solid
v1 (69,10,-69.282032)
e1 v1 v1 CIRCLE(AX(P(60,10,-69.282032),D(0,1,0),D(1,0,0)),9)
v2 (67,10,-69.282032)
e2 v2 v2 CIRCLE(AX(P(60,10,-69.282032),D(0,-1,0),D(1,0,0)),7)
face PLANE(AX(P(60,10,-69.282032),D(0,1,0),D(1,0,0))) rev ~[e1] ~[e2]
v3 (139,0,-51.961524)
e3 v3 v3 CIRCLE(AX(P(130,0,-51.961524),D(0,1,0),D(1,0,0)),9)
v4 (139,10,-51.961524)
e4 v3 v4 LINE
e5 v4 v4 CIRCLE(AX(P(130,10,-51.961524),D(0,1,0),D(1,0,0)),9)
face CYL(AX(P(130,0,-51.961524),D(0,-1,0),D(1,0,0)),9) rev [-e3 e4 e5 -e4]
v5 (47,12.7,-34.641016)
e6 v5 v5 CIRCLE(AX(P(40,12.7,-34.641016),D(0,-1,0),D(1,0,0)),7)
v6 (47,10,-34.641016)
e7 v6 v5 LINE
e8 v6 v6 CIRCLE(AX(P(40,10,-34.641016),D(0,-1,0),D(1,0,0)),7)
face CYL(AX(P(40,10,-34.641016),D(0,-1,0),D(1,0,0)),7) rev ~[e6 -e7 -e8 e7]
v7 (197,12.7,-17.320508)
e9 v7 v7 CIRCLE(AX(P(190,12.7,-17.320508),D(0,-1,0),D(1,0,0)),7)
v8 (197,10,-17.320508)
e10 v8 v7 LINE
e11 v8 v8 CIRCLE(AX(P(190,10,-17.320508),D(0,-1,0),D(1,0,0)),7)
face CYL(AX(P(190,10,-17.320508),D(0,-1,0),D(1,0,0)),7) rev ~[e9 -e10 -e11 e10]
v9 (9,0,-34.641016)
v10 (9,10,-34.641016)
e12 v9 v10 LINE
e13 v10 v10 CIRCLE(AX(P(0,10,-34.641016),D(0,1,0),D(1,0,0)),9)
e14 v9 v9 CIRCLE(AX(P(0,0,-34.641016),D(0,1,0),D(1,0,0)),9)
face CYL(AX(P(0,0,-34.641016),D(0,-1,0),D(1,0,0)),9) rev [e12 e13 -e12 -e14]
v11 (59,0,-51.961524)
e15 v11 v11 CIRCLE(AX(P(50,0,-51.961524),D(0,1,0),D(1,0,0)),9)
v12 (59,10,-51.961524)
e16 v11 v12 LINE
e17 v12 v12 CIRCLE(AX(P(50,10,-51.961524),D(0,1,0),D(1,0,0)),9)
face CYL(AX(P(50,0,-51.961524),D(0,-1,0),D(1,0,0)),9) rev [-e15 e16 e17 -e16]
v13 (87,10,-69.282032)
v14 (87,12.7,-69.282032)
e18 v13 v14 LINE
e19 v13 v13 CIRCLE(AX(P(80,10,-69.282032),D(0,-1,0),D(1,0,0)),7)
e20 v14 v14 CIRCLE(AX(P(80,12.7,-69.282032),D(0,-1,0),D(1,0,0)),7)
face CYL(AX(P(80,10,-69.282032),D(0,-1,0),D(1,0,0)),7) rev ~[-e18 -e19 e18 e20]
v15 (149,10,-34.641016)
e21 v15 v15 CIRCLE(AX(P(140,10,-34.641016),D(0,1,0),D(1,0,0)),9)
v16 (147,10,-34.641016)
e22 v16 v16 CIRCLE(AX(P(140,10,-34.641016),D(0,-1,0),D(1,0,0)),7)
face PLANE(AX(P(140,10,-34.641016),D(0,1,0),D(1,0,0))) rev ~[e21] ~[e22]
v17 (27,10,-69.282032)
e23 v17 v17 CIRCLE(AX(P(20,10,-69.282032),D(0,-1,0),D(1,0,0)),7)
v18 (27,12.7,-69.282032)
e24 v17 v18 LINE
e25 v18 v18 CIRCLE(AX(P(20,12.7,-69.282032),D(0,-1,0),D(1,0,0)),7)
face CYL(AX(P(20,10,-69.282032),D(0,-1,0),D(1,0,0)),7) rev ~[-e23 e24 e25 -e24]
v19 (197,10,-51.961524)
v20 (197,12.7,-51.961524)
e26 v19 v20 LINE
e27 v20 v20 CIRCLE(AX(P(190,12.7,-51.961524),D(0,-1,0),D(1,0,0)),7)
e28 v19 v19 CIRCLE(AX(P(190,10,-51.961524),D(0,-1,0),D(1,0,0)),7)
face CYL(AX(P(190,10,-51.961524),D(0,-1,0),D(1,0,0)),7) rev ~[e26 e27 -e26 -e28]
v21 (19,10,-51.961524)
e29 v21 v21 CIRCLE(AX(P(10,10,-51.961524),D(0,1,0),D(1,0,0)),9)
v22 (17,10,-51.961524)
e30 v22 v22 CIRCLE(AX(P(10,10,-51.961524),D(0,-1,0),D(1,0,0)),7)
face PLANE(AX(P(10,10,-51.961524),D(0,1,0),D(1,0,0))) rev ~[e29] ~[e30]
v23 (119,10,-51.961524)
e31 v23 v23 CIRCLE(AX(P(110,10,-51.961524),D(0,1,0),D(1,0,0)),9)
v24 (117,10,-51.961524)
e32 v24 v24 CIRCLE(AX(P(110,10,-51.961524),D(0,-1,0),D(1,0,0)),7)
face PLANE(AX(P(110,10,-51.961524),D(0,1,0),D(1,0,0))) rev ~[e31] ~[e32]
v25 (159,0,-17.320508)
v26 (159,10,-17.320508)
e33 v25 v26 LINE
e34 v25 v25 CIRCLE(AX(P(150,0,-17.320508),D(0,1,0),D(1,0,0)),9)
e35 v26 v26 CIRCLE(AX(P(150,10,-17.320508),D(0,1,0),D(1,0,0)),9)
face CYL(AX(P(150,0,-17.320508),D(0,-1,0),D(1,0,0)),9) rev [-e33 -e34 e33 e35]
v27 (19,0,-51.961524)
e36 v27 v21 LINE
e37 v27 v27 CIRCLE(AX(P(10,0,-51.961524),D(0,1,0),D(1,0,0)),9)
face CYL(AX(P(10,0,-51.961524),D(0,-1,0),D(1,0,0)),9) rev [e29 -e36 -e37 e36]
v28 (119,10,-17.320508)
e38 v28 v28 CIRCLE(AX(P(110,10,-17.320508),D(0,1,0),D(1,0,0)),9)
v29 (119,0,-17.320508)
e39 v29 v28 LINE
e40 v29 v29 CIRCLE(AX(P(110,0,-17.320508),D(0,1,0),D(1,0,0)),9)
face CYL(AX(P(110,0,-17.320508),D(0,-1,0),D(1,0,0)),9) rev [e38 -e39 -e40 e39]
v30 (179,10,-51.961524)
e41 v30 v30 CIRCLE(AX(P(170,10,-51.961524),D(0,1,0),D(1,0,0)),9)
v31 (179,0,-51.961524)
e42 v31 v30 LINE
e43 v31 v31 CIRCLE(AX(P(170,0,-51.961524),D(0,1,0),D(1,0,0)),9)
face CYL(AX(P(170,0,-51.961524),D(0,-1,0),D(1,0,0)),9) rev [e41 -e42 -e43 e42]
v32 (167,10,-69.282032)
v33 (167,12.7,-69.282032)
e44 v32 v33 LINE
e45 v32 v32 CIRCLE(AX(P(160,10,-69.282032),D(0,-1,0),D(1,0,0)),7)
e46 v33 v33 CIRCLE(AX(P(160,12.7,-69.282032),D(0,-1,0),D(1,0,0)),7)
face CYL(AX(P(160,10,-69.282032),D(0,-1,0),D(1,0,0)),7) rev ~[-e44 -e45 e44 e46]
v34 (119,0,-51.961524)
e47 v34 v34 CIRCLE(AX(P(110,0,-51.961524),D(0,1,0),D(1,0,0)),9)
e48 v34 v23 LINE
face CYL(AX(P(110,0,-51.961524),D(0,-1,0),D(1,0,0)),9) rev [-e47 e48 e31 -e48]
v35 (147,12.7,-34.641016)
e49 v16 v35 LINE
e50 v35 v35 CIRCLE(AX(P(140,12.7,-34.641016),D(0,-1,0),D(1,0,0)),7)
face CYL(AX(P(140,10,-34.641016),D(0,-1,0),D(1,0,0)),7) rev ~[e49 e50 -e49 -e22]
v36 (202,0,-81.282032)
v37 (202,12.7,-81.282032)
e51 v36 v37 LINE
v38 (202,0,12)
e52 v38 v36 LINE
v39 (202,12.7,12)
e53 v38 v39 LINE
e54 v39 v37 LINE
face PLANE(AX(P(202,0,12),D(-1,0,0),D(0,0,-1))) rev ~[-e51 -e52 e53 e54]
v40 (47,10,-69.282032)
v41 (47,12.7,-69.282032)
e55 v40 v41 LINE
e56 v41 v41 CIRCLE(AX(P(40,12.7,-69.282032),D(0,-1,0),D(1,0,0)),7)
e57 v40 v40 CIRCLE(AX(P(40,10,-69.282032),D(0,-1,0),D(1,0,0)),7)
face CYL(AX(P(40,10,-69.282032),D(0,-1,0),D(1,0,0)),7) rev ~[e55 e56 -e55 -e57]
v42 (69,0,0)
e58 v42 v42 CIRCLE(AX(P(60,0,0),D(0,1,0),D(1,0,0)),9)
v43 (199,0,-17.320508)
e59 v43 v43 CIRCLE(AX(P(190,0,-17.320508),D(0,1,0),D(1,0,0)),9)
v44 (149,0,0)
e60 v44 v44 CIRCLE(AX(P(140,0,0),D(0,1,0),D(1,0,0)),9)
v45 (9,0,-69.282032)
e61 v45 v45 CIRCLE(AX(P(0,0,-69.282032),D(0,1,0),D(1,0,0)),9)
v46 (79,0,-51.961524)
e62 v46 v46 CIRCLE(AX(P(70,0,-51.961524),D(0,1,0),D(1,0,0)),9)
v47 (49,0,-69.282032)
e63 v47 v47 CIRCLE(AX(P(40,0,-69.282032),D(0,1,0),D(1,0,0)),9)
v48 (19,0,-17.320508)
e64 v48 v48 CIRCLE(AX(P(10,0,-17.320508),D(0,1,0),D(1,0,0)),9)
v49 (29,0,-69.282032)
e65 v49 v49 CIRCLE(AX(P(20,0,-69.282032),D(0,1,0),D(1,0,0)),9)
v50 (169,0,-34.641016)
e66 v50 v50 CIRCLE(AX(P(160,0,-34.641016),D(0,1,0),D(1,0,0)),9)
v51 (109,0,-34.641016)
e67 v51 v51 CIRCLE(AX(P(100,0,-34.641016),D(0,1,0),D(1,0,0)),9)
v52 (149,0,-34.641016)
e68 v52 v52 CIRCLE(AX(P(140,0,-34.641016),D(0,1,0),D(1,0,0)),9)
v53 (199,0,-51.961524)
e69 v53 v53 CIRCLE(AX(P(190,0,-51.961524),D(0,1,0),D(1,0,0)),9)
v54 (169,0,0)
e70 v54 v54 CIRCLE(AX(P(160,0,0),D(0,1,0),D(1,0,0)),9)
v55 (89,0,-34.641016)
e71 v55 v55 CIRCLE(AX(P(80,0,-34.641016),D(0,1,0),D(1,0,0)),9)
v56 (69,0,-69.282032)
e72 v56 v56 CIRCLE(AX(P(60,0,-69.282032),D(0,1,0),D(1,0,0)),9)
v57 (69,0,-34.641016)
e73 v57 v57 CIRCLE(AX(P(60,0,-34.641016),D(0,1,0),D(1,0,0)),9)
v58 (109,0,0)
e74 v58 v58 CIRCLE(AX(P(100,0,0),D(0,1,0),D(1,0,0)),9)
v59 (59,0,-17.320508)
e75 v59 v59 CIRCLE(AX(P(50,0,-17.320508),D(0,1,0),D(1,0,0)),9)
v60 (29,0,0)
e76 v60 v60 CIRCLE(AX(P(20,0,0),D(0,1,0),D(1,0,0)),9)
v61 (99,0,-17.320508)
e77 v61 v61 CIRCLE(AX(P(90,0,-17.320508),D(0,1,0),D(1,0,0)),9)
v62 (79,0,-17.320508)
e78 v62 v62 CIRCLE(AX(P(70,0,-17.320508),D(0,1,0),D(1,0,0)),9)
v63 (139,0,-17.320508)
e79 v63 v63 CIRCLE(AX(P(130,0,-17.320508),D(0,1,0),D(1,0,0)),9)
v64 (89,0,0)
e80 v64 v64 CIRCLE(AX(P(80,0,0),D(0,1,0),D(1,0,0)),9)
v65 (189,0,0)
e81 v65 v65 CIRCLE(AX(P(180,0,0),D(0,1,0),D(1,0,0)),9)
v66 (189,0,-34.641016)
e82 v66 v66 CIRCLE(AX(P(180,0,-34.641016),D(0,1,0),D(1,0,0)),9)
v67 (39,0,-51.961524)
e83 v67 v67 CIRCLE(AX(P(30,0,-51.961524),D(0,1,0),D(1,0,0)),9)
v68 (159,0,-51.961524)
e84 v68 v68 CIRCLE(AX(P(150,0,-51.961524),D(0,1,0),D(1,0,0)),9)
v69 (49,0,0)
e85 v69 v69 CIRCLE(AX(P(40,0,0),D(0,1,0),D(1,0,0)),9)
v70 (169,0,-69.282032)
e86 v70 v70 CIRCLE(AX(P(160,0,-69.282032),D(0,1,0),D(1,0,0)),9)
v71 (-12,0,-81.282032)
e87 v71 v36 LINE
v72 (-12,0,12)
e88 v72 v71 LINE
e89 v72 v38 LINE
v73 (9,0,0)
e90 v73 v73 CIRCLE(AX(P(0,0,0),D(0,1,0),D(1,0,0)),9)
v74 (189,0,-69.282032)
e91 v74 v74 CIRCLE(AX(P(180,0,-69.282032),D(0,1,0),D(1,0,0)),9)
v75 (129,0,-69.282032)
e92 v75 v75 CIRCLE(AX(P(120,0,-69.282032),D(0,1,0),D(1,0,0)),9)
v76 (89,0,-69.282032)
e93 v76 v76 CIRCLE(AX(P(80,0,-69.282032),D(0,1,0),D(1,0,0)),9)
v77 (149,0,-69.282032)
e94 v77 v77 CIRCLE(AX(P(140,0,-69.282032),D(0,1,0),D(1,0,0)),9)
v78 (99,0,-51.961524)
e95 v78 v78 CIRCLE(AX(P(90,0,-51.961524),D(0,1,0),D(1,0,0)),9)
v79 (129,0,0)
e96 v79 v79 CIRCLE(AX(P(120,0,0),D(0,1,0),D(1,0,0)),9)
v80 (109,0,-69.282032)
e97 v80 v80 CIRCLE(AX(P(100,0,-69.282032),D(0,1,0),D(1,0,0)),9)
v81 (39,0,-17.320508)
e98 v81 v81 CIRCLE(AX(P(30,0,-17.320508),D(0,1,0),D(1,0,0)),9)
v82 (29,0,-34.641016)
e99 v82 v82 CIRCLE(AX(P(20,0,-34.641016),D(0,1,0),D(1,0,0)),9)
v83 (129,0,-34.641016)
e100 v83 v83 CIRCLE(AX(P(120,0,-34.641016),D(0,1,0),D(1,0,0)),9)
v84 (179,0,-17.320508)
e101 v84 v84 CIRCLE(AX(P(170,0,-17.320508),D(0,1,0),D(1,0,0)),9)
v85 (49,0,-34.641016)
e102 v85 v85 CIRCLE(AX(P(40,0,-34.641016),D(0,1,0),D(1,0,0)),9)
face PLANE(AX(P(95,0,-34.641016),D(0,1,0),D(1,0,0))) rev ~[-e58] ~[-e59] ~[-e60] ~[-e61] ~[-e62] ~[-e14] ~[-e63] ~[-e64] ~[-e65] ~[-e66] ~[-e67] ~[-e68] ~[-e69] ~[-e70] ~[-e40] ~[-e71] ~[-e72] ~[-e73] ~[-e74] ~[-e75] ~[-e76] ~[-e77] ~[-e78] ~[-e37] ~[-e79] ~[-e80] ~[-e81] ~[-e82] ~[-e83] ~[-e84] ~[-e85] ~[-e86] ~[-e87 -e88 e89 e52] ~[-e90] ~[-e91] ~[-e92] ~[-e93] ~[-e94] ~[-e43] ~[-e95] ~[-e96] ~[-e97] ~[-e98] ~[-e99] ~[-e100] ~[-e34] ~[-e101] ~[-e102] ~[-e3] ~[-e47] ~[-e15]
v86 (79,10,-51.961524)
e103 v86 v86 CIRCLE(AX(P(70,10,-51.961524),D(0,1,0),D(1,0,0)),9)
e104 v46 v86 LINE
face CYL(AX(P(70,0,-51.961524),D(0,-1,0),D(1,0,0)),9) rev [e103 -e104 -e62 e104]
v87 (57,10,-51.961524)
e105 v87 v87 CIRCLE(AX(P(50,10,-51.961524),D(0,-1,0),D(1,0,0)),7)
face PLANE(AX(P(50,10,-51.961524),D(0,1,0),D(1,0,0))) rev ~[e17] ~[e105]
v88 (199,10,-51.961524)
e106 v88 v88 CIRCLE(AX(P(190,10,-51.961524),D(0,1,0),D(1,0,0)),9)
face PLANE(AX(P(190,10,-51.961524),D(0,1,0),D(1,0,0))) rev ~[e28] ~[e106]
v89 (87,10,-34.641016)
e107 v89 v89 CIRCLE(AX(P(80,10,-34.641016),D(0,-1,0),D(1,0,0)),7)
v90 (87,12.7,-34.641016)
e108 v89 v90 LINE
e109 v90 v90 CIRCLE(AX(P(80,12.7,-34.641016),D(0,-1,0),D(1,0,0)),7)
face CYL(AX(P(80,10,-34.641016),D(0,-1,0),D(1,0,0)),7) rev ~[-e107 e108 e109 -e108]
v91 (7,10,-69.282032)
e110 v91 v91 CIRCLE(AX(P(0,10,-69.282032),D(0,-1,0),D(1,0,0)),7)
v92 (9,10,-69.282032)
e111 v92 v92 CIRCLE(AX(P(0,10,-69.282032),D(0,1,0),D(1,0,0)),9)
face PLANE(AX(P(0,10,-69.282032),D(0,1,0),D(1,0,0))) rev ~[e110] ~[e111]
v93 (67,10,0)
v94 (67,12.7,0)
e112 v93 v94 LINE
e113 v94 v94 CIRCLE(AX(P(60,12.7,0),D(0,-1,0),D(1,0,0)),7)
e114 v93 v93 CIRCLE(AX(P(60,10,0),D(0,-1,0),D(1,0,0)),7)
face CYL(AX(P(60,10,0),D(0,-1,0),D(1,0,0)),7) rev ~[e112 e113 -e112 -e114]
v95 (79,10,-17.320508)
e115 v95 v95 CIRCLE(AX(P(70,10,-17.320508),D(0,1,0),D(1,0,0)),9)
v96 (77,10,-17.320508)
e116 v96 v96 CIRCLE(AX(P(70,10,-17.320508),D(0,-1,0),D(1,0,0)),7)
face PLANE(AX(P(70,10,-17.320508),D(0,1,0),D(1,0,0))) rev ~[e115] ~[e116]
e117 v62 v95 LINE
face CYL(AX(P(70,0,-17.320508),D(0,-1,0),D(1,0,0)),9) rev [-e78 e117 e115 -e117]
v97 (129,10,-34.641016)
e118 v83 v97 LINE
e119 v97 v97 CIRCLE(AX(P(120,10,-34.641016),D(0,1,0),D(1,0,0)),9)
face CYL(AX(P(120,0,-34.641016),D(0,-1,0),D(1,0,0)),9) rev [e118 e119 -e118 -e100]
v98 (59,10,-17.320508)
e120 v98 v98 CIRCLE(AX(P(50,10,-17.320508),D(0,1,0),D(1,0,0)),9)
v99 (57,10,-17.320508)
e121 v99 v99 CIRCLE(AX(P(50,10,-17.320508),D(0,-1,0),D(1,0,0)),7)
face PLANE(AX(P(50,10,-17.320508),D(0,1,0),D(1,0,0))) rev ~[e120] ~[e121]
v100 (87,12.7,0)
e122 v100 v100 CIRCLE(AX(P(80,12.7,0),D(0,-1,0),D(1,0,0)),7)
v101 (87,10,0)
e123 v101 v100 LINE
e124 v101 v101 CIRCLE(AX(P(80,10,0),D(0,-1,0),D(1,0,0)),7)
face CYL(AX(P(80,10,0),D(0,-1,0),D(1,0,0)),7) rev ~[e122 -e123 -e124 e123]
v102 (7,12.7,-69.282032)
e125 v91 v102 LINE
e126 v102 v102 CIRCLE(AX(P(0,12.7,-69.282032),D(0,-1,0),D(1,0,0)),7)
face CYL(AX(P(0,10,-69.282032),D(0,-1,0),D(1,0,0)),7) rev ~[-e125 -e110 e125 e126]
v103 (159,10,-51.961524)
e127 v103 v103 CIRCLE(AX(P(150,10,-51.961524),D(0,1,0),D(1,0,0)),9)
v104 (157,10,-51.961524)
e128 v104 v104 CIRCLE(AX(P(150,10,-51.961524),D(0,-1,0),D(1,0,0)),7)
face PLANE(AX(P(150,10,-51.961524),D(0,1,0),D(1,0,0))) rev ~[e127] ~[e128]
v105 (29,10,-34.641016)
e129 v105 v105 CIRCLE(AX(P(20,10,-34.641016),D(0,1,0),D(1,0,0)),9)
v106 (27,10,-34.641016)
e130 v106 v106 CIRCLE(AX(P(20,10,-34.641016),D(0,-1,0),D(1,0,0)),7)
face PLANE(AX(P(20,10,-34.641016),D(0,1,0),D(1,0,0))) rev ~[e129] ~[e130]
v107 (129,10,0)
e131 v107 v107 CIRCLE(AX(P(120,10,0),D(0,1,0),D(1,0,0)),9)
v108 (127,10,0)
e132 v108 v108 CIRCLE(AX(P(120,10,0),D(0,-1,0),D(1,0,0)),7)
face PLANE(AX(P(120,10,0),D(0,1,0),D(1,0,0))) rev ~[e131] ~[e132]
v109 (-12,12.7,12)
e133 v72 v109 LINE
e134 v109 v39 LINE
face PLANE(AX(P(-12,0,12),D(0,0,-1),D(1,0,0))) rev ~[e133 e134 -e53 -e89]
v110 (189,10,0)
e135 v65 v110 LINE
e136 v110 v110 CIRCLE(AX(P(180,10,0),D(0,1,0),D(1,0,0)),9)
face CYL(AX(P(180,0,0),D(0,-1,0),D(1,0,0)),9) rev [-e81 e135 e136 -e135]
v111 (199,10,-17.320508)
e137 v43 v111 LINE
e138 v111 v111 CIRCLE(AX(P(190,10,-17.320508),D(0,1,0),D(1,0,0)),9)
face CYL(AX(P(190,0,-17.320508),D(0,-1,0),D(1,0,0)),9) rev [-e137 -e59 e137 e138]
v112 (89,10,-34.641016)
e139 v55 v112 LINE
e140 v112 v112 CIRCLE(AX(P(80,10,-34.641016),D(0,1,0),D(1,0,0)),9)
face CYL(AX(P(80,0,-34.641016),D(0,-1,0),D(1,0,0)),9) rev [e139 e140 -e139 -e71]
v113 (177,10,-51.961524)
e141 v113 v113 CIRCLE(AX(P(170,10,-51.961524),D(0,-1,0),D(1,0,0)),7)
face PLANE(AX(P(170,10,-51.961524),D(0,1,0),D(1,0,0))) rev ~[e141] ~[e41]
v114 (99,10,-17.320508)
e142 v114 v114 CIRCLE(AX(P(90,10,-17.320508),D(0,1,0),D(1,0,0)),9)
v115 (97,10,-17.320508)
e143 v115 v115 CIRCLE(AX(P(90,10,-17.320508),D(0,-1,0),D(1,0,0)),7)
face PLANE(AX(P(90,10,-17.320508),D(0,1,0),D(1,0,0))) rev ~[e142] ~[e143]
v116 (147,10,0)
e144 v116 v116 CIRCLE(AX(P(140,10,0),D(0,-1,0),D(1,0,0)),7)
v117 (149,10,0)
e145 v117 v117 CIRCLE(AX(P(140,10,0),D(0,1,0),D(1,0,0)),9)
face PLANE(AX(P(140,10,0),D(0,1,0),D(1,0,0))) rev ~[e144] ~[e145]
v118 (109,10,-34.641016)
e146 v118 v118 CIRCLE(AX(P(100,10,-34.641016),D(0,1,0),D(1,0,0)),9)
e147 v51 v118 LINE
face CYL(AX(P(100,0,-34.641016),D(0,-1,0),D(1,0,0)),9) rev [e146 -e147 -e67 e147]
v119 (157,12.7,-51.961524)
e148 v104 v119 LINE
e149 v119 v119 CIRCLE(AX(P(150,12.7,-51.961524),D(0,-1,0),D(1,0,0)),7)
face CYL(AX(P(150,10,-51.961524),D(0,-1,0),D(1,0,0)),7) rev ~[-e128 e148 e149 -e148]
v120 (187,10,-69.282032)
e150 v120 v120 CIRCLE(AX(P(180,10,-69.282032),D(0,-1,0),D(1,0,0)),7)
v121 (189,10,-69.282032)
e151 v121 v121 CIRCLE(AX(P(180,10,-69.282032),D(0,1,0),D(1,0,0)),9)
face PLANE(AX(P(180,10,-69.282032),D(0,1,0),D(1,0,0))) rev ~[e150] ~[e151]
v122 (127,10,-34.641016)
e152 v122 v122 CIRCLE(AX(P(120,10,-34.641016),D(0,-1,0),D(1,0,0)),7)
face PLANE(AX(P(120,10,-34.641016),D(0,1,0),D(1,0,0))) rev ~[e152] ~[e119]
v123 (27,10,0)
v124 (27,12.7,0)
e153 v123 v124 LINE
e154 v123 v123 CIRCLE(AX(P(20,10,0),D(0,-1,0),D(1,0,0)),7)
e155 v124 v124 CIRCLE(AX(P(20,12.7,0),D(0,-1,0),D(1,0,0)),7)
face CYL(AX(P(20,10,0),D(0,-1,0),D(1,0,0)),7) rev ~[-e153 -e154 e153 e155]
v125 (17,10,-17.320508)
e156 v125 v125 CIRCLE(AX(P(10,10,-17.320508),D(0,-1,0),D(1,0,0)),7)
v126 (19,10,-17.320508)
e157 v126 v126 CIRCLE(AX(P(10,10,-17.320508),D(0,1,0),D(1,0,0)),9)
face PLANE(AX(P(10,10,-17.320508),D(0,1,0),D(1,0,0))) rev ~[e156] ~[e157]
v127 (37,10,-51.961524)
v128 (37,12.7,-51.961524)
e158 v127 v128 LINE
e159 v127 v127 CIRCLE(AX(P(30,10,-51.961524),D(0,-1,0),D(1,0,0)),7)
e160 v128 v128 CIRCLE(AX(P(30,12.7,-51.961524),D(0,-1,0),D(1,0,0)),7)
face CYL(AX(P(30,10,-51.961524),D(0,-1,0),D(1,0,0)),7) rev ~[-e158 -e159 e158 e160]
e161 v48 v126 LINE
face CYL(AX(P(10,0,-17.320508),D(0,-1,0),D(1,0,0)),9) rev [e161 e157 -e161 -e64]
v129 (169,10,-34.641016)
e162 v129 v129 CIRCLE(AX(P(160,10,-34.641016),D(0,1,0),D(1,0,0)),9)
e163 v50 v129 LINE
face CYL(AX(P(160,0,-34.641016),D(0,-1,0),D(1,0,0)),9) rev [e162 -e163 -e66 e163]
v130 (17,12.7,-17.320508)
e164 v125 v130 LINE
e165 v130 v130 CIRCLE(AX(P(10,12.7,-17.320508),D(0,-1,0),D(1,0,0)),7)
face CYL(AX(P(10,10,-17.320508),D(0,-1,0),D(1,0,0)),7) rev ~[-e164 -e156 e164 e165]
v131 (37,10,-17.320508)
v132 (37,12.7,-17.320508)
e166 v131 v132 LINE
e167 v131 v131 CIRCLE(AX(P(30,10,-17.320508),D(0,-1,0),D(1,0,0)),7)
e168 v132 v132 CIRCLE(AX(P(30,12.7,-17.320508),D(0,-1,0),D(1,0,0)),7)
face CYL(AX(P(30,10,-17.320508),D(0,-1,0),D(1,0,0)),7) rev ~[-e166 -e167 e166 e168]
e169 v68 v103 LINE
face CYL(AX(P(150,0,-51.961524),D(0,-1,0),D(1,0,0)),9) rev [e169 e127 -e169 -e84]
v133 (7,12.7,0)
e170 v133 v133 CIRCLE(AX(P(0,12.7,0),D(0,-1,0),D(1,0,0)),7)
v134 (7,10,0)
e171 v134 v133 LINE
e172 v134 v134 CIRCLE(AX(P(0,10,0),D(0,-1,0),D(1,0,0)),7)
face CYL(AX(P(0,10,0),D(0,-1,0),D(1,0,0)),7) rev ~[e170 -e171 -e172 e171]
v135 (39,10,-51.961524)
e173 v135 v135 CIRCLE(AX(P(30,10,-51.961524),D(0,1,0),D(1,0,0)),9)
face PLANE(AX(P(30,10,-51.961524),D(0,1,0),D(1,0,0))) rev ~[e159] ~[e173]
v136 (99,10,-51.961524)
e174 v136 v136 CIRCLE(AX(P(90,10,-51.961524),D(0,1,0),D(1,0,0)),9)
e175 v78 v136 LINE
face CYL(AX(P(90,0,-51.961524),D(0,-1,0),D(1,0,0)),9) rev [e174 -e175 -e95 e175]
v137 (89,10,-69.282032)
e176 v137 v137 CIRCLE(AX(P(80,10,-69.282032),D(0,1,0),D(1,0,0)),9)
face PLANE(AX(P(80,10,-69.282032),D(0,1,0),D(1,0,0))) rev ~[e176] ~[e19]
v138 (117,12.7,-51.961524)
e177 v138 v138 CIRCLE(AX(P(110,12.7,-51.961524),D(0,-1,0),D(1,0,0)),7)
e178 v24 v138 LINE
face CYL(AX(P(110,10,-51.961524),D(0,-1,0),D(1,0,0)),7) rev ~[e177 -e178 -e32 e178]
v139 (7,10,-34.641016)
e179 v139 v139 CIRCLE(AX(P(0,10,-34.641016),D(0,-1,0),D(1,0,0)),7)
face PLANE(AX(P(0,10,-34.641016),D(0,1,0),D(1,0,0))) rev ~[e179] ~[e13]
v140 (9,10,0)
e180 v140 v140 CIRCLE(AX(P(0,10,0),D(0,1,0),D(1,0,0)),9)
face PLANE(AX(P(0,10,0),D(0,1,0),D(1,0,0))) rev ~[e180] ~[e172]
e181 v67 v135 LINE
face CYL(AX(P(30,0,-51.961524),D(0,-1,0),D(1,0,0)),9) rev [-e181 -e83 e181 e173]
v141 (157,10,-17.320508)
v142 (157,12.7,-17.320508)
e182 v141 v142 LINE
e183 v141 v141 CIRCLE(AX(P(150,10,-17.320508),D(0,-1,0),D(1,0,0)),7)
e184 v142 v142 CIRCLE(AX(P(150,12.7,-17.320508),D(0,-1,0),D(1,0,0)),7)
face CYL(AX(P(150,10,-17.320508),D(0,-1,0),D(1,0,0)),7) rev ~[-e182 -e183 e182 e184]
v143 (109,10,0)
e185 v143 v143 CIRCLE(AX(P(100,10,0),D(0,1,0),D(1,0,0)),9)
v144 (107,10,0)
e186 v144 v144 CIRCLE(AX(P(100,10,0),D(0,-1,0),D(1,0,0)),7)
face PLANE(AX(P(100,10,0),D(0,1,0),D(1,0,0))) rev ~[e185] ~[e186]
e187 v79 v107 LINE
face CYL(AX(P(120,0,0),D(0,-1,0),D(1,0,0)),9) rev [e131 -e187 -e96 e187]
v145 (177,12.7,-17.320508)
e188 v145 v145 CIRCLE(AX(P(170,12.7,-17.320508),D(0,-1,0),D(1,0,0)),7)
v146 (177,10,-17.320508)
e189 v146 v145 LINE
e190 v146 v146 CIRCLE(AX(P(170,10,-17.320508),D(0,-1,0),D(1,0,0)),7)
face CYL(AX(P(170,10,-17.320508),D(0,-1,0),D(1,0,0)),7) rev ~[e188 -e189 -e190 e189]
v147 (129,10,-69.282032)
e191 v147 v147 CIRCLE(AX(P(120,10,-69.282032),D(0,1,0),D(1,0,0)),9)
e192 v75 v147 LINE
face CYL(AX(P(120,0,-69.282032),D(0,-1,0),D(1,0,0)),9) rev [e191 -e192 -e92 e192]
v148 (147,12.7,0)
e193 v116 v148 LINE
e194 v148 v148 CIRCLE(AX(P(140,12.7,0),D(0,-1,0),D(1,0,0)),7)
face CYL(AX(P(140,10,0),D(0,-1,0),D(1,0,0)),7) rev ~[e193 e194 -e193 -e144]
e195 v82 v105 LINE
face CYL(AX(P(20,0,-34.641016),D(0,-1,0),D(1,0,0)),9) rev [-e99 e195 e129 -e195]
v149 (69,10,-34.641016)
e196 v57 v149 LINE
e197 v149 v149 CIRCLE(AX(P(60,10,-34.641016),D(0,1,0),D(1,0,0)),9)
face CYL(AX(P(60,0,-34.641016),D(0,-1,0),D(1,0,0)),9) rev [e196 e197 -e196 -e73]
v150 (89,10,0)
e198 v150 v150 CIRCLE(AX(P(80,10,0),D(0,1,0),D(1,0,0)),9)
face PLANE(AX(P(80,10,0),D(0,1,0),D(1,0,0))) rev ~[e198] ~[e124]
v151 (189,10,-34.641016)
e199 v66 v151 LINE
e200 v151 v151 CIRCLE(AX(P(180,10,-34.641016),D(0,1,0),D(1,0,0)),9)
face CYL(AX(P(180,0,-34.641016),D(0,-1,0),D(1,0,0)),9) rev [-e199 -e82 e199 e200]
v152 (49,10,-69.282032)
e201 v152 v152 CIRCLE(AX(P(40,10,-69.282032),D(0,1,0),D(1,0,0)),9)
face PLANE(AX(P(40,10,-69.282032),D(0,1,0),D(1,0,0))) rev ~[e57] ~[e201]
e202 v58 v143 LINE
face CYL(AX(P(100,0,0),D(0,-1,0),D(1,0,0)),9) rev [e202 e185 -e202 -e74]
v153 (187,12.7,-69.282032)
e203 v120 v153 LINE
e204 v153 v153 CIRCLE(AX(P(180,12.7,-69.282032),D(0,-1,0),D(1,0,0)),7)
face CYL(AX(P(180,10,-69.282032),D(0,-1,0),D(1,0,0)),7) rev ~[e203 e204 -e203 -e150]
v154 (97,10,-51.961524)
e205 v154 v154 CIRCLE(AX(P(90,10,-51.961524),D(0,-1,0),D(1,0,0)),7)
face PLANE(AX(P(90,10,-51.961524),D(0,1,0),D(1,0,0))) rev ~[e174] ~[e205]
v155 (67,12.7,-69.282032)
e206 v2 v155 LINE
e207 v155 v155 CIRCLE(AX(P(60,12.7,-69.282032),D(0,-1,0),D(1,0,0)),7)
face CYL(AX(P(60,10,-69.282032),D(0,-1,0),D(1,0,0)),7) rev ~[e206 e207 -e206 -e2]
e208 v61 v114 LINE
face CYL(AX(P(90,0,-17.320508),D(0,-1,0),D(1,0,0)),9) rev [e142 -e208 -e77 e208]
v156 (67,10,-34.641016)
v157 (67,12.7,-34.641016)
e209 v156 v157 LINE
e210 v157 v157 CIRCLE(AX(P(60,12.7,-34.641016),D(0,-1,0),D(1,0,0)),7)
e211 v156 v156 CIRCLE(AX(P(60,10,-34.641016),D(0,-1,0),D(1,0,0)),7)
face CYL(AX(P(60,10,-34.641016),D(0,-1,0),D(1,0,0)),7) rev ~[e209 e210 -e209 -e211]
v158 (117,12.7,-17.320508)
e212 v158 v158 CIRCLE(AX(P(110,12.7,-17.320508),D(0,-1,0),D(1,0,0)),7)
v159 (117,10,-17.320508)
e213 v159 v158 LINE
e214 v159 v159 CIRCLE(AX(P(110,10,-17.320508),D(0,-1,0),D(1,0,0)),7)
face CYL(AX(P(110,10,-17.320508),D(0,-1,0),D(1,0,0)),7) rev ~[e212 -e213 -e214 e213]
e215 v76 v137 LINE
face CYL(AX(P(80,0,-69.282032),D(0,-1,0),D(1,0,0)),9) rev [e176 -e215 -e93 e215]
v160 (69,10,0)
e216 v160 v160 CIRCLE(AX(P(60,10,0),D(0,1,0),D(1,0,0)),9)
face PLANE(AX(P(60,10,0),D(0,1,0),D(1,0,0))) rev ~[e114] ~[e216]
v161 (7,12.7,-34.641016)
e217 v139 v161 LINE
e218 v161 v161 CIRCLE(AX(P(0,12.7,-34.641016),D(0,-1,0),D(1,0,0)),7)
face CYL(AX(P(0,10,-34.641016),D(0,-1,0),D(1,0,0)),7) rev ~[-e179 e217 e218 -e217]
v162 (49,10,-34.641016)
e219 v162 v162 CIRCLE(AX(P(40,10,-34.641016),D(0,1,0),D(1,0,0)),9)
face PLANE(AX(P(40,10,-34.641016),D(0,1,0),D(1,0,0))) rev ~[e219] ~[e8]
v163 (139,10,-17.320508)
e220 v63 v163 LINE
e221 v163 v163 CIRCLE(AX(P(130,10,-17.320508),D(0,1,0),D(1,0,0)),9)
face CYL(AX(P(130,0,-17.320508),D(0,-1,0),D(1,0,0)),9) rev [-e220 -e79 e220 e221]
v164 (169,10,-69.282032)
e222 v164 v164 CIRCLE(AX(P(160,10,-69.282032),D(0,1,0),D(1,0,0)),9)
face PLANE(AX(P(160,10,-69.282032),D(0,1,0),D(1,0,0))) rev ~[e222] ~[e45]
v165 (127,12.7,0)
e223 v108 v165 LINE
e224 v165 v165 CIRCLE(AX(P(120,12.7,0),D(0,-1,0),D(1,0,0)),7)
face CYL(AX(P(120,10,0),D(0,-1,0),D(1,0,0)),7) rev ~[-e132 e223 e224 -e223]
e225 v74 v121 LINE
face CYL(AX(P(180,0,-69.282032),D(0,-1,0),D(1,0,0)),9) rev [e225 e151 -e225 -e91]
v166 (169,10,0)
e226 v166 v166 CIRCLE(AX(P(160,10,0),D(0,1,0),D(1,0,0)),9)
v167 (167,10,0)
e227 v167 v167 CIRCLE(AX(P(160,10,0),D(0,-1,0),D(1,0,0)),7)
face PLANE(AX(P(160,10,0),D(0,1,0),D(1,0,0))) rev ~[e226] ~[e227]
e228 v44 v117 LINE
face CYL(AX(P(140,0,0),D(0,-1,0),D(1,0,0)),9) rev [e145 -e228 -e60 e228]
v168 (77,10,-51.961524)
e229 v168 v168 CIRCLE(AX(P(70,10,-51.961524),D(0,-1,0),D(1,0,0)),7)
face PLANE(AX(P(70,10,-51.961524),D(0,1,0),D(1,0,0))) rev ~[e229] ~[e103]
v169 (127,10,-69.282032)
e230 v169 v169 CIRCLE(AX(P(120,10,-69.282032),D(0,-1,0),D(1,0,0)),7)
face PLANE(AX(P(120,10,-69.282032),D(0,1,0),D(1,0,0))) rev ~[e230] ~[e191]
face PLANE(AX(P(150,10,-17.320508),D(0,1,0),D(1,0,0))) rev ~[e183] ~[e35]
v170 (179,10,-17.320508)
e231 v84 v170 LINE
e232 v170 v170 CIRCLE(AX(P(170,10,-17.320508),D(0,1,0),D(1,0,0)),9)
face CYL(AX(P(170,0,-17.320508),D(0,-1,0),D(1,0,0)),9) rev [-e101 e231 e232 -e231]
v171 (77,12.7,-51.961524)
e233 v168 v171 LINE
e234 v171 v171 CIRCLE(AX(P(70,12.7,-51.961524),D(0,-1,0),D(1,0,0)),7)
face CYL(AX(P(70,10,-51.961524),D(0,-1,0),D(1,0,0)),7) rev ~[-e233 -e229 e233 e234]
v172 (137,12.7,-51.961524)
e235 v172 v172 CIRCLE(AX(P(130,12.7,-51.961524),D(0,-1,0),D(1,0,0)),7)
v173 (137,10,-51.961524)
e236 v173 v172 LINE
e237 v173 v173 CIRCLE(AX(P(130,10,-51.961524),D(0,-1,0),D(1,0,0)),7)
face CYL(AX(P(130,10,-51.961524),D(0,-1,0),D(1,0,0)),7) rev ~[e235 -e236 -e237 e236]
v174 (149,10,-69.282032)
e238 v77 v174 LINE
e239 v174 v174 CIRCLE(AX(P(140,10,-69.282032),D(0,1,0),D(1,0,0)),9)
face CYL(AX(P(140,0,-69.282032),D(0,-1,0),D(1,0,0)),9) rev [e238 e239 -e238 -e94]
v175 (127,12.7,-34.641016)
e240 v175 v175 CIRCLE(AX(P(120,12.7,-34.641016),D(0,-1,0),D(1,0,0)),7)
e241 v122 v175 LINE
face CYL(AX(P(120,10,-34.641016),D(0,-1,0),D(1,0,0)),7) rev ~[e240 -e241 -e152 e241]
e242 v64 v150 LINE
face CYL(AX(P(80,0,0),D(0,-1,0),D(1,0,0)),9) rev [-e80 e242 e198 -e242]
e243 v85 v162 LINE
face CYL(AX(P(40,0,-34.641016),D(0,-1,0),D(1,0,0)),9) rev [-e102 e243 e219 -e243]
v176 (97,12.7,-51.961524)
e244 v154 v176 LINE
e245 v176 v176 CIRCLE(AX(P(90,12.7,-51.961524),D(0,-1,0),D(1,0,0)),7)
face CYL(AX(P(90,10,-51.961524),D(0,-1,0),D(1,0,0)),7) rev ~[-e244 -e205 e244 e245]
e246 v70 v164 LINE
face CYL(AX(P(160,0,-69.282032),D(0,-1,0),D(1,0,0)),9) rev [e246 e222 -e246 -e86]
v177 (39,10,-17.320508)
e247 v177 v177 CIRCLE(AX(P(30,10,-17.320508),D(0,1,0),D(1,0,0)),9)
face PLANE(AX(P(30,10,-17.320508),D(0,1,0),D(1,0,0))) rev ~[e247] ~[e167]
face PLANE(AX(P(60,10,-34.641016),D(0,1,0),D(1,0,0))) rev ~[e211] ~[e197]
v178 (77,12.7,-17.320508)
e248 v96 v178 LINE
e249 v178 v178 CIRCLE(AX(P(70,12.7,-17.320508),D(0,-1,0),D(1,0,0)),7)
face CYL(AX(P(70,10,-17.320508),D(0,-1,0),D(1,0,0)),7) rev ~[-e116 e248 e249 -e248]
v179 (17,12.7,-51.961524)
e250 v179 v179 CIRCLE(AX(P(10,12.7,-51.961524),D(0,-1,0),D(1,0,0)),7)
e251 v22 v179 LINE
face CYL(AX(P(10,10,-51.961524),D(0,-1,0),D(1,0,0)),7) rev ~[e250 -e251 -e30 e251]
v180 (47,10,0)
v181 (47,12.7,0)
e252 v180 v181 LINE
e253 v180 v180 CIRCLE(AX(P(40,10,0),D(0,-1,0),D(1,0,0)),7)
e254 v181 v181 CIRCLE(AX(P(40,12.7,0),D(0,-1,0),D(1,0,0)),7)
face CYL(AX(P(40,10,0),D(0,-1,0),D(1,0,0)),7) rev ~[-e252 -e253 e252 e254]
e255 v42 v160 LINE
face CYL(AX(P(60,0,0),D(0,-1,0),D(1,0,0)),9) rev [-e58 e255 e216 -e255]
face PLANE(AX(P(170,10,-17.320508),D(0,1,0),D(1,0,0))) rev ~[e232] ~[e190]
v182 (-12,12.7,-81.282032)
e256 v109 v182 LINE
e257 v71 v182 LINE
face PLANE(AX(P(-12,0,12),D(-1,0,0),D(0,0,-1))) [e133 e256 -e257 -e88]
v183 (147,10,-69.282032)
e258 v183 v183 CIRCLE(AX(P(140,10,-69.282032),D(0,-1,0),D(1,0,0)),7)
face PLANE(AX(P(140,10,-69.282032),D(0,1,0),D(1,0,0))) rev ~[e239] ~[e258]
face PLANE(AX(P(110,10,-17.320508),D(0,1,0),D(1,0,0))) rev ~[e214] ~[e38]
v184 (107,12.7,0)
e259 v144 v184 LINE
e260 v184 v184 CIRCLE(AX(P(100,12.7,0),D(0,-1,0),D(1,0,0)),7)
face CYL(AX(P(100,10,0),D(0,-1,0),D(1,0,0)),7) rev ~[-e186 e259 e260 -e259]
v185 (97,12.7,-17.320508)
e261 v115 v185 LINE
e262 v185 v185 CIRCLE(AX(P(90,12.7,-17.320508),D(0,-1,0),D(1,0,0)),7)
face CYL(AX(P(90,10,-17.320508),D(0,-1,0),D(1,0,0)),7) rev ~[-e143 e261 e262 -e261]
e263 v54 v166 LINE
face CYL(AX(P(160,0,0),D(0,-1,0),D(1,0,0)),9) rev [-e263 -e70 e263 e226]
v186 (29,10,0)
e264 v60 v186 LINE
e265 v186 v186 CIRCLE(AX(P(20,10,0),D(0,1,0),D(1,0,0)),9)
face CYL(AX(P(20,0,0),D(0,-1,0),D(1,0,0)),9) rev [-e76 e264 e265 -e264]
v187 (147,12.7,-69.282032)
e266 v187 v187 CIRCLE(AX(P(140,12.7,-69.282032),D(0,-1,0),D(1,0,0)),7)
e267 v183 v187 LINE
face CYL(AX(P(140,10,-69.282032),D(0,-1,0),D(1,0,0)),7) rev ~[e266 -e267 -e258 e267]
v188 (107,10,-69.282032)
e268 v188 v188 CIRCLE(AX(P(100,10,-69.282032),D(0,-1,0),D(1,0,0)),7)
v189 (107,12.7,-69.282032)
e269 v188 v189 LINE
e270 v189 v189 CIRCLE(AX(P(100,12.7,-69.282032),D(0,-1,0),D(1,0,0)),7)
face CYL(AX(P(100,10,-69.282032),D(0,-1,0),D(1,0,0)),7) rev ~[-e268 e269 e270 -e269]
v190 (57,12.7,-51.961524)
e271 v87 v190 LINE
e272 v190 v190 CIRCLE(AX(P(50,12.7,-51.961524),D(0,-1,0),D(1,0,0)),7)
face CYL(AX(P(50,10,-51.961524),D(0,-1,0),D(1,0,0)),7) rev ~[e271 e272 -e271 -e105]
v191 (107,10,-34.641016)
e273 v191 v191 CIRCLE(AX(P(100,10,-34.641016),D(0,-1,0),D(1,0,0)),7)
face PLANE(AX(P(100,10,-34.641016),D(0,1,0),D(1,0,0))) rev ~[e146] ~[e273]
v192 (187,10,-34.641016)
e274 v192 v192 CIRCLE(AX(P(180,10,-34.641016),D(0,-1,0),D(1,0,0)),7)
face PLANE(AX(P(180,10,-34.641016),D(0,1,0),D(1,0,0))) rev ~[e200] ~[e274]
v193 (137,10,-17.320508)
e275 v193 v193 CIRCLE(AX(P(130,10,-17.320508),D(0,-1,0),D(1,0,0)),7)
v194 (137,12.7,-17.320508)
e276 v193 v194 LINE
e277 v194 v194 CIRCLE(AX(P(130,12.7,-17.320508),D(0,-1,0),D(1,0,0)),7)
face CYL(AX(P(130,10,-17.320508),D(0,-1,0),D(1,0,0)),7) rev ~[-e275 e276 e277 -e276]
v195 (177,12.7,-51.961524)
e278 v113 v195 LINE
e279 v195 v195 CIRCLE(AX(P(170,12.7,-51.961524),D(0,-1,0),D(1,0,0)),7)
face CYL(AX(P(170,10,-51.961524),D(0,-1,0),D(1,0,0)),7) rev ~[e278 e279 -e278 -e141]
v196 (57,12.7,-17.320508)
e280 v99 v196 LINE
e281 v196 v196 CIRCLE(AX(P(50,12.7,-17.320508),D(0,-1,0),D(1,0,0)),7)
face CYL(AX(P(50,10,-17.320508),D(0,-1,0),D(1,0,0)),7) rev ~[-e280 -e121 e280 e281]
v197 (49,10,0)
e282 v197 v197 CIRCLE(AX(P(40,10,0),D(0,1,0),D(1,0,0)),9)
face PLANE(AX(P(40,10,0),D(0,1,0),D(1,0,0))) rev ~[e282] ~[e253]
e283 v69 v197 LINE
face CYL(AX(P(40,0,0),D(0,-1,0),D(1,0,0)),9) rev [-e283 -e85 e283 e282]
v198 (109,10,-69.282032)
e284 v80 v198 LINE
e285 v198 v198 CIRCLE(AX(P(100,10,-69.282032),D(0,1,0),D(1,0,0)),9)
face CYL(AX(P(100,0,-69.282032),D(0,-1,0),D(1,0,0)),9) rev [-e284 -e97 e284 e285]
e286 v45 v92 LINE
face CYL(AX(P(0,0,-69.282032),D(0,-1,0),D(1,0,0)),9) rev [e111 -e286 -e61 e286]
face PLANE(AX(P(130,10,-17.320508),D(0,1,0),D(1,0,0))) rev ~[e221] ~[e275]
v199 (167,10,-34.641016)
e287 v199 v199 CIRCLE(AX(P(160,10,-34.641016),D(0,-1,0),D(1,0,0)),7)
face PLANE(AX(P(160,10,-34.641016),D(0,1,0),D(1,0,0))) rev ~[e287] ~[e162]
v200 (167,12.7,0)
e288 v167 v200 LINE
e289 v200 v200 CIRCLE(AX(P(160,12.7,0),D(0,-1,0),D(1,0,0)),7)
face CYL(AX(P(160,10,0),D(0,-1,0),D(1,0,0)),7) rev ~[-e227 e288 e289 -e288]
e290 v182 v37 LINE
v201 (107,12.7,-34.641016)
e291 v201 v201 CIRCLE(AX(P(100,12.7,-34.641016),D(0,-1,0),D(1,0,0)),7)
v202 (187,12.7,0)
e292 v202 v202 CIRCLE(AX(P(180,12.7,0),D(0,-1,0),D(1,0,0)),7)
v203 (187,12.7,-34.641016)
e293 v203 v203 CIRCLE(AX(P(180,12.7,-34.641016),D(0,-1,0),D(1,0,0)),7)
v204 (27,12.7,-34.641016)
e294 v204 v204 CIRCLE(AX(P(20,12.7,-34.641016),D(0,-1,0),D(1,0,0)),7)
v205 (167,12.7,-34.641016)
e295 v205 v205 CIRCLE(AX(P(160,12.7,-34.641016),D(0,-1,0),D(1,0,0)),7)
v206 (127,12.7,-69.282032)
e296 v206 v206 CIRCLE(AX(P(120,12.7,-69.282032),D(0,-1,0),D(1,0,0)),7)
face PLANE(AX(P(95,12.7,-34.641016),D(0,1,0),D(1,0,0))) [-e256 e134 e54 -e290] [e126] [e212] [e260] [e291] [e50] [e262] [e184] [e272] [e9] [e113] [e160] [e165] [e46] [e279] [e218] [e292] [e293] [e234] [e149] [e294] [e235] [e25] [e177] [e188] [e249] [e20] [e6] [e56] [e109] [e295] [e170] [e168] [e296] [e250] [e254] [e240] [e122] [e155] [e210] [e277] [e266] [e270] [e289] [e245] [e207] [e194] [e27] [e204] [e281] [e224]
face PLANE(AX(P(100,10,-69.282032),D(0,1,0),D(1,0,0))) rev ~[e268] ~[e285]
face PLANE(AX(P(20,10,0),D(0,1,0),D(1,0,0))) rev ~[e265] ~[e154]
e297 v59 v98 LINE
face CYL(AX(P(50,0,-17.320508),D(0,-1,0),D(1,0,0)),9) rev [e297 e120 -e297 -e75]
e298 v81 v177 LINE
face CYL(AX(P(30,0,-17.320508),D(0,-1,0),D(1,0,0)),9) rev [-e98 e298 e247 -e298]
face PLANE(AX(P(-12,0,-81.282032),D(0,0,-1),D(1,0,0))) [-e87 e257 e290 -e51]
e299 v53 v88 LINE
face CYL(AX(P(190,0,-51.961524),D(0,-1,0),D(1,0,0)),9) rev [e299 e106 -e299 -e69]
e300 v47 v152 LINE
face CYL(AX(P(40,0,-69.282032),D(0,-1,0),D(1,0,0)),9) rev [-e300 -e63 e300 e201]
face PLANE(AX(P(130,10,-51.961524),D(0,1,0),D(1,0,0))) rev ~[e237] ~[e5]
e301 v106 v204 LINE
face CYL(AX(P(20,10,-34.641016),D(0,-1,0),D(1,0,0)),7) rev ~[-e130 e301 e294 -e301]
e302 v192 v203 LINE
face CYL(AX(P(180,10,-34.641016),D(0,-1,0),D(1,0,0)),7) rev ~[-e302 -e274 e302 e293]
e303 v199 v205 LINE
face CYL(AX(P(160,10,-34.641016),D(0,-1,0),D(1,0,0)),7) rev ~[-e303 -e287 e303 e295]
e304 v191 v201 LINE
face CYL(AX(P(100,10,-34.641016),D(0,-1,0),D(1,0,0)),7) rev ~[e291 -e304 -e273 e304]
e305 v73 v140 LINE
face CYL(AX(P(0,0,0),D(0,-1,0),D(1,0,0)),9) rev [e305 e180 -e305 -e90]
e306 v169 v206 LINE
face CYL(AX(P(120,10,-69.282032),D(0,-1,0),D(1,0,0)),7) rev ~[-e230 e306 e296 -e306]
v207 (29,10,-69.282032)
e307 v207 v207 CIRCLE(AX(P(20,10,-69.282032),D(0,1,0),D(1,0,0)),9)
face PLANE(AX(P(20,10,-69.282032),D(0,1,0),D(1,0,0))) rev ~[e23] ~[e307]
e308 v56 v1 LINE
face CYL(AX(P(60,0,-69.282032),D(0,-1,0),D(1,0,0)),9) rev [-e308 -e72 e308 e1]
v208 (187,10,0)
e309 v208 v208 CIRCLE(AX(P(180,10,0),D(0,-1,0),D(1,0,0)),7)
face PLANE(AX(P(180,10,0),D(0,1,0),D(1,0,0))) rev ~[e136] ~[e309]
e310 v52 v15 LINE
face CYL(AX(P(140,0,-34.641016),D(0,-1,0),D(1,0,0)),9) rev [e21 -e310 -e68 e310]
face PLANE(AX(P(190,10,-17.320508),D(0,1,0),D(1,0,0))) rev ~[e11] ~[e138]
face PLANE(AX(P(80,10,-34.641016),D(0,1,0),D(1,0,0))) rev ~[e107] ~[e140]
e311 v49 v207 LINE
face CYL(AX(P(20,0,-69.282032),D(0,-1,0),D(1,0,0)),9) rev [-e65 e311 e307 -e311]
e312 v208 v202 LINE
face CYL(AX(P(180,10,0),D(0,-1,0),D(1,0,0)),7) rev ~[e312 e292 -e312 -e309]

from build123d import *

# Parameters (mm, degrees)
SKETCH3_W           = 214
SKETCH3_H           = 93.282032303
BOSS_EXTRUDE1_DEPTH = 12.7
SKETCH2_R           = 9
CUT_EXTRUDE1_DEPTH  = 10
SKETCH5_R           = 7
CUT_EXTRUDE2_DEPTH  = 10


with BuildPart() as part:
    # Sketch3 → Boss-Extrude1 (new body)
    with BuildSketch(Plane(origin=(0, 0, 0), x_dir=(1, 0, 0), z_dir=(0, 1, 0))):
        with Locations((95, 34.641016152)):
            Rectangle(SKETCH3_W, SKETCH3_H)
    extrude(amount=BOSS_EXTRUDE1_DEPTH)

    # Sketch2 → Cut-Extrude1 (cut)
    with BuildSketch(Plane(origin=(0, 0, 0), x_dir=(1, 0, 0), z_dir=(0, 1, 0))):
        Circle(SKETCH2_R)
        with Locations((20, 0)):
            Circle(SKETCH2_R)
        with Locations((40, 0)):
            Circle(SKETCH2_R)
        with Locations((60, 0)):
            Circle(SKETCH2_R)
        with Locations((80, 0)):
            Circle(SKETCH2_R)
        with Locations((100, 0)):
            Circle(SKETCH2_R)
        with Locations((120, 0)):
            Circle(SKETCH2_R)
        with Locations((140, 0)):
            Circle(SKETCH2_R)
        with Locations((160, 0)):
            Circle(SKETCH2_R)
        with Locations((180, 0)):
            Circle(SKETCH2_R)
        with Locations((10, 17.320508076)):
            Circle(SKETCH2_R)
        with Locations((30, 17.320508076)):
            Circle(SKETCH2_R)
        with Locations((50, 17.320508076)):
            Circle(SKETCH2_R)
        with Locations((70, 17.320508076)):
            Circle(SKETCH2_R)
        with Locations((90, 17.320508076)):
            Circle(SKETCH2_R)
        with Locations((110, 17.320508076)):
            Circle(SKETCH2_R)
        with Locations((130, 17.320508076)):
            Circle(SKETCH2_R)
        with Locations((150, 17.320508076)):
            Circle(SKETCH2_R)
        with Locations((170, 17.320508076)):
            Circle(SKETCH2_R)
        with Locations((190, 17.320508076)):
            Circle(SKETCH2_R)
        with Locations((0, 34.641016151)):
            Circle(SKETCH2_R)
        with Locations((20, 34.641016151)):
            Circle(SKETCH2_R)
        with Locations((40, 34.641016151)):
            Circle(SKETCH2_R)
        with Locations((60, 34.641016151)):
            Circle(SKETCH2_R)
        with Locations((80, 34.641016151)):
            Circle(SKETCH2_R)
        with Locations((100, 34.641016151)):
            Circle(SKETCH2_R)
        with Locations((120, 34.641016151)):
            Circle(SKETCH2_R)
        with Locations((140, 34.641016151)):
            Circle(SKETCH2_R)
        with Locations((160, 34.641016151)):
            Circle(SKETCH2_R)
        with Locations((180, 34.641016151)):
            Circle(SKETCH2_R)
        with Locations((10, 51.961524227)):
            Circle(SKETCH2_R)
        with Locations((30, 51.961524227)):
            Circle(SKETCH2_R)
        with Locations((50, 51.961524227)):
            Circle(SKETCH2_R)
        with Locations((70, 51.961524227)):
            Circle(SKETCH2_R)
        with Locations((90, 51.961524227)):
            Circle(SKETCH2_R)
        with Locations((110, 51.961524227)):
            Circle(SKETCH2_R)
        with Locations((130, 51.961524227)):
            Circle(SKETCH2_R)
        with Locations((150, 51.961524227)):
            Circle(SKETCH2_R)
        with Locations((170, 51.961524227)):
            Circle(SKETCH2_R)
        with Locations((190, 51.961524227)):
            Circle(SKETCH2_R)
        with Locations((0, 69.282032303)):
            Circle(SKETCH2_R)
        with Locations((20, 69.282032303)):
            Circle(SKETCH2_R)
        with Locations((40, 69.282032303)):
            Circle(SKETCH2_R)
        with Locations((60, 69.282032303)):
            Circle(SKETCH2_R)
        with Locations((80, 69.282032303)):
            Circle(SKETCH2_R)
        with Locations((100, 69.282032303)):
            Circle(SKETCH2_R)
        with Locations((120, 69.282032303)):
            Circle(SKETCH2_R)
        with Locations((140, 69.282032303)):
            Circle(SKETCH2_R)
        with Locations((160, 69.282032303)):
            Circle(SKETCH2_R)
        with Locations((180, 69.282032303)):
            Circle(SKETCH2_R)
    extrude(amount=CUT_EXTRUDE1_DEPTH, mode=Mode.SUBTRACT)

    # Sketch5 → Cut-Extrude2 (cut)
    with BuildSketch(Plane.XZ.offset(-10)):
        Circle(SKETCH5_R)
        with Locations((20, 0)):
            Circle(SKETCH5_R)
        with Locations((40, 0)):
            Circle(SKETCH5_R)
        with Locations((80, 0)):
            Circle(SKETCH5_R)
        with Locations((60, 0)):
            Circle(SKETCH5_R)
        with Locations((100, 0)):
            Circle(SKETCH5_R)
        with Locations((120, 0)):
            Circle(SKETCH5_R)
        with Locations((140, 0)):
            Circle(SKETCH5_R)
        with Locations((160, 0)):
            Circle(SKETCH5_R)
        with Locations((180, 0)):
            Circle(SKETCH5_R)
        with Locations((190, -17.320508076)):
            Circle(SKETCH5_R)
        with Locations((170, -17.320508076)):
            Circle(SKETCH5_R)
        with Locations((150, -17.320508076)):
            Circle(SKETCH5_R)
        with Locations((130, -17.320508076)):
            Circle(SKETCH5_R)
        with Locations((110, -17.320508076)):
            Circle(SKETCH5_R)
        with Locations((90, -17.320508076)):
            Circle(SKETCH5_R)
        with Locations((70, -17.320508076)):
            Circle(SKETCH5_R)
        with Locations((50, -17.320508076)):
            Circle(SKETCH5_R)
        with Locations((30, -17.320508076)):
            Circle(SKETCH5_R)
        with Locations((10, -17.320508076)):
            Circle(SKETCH5_R)
        with Locations((0, -34.641016151)):
            Circle(SKETCH5_R)
        with Locations((20, -34.641016151)):
            Circle(SKETCH5_R)
        with Locations((40, -34.641016151)):
            Circle(SKETCH5_R)
        with Locations((60, -34.641016151)):
            Circle(SKETCH5_R)
        with Locations((80, -34.641016151)):
            Circle(SKETCH5_R)
        with Locations((100, -34.641016151)):
            Circle(SKETCH5_R)
        with Locations((120, -34.641016151)):
            Circle(SKETCH5_R)
        with Locations((140, -34.641016151)):
            Circle(SKETCH5_R)
        with Locations((160, -34.641016151)):
            Circle(SKETCH5_R)
        with Locations((180, -34.641016151)):
            Circle(SKETCH5_R)
        with Locations((190, -51.961524227)):
            Circle(SKETCH5_R)
        with Locations((170, -51.961524227)):
            Circle(SKETCH5_R)
        with Locations((150, -51.961524227)):
            Circle(SKETCH5_R)
        with Locations((130, -51.961524227)):
            Circle(SKETCH5_R)
        with Locations((110, -51.961524227)):
            Circle(SKETCH5_R)
        with Locations((90, -51.961524227)):
            Circle(SKETCH5_R)
        with Locations((70, -51.961524227)):
            Circle(SKETCH5_R)
        with Locations((50, -51.961524227)):
            Circle(SKETCH5_R)
        with Locations((30, -51.961524227)):
            Circle(SKETCH5_R)
        with Locations((10, -51.961524227)):
            Circle(SKETCH5_R)
        with Locations((20, -69.282032303)):
            Circle(SKETCH5_R)
        with Locations((40, -69.282032303)):
            Circle(SKETCH5_R)
        with Locations((60, -69.282032303)):
            Circle(SKETCH5_R)
        with Locations((80, -69.282032303)):
            Circle(SKETCH5_R)
        with Locations((100, -69.282032303)):
            Circle(SKETCH5_R)
        with Locations((120, -69.282032303)):
            Circle(SKETCH5_R)
        with Locations((140, -69.282032303)):
            Circle(SKETCH5_R)
        with Locations((160, -69.282032303)):
            Circle(SKETCH5_R)
        with Locations((180, -69.282032303)):
            Circle(SKETCH5_R)
        with Locations((0, -69.282032303)):
            Circle(SKETCH5_R)
    extrude(amount=-CUT_EXTRUDE2_DEPTH, mode=Mode.SUBTRACT)


solid = part.part
